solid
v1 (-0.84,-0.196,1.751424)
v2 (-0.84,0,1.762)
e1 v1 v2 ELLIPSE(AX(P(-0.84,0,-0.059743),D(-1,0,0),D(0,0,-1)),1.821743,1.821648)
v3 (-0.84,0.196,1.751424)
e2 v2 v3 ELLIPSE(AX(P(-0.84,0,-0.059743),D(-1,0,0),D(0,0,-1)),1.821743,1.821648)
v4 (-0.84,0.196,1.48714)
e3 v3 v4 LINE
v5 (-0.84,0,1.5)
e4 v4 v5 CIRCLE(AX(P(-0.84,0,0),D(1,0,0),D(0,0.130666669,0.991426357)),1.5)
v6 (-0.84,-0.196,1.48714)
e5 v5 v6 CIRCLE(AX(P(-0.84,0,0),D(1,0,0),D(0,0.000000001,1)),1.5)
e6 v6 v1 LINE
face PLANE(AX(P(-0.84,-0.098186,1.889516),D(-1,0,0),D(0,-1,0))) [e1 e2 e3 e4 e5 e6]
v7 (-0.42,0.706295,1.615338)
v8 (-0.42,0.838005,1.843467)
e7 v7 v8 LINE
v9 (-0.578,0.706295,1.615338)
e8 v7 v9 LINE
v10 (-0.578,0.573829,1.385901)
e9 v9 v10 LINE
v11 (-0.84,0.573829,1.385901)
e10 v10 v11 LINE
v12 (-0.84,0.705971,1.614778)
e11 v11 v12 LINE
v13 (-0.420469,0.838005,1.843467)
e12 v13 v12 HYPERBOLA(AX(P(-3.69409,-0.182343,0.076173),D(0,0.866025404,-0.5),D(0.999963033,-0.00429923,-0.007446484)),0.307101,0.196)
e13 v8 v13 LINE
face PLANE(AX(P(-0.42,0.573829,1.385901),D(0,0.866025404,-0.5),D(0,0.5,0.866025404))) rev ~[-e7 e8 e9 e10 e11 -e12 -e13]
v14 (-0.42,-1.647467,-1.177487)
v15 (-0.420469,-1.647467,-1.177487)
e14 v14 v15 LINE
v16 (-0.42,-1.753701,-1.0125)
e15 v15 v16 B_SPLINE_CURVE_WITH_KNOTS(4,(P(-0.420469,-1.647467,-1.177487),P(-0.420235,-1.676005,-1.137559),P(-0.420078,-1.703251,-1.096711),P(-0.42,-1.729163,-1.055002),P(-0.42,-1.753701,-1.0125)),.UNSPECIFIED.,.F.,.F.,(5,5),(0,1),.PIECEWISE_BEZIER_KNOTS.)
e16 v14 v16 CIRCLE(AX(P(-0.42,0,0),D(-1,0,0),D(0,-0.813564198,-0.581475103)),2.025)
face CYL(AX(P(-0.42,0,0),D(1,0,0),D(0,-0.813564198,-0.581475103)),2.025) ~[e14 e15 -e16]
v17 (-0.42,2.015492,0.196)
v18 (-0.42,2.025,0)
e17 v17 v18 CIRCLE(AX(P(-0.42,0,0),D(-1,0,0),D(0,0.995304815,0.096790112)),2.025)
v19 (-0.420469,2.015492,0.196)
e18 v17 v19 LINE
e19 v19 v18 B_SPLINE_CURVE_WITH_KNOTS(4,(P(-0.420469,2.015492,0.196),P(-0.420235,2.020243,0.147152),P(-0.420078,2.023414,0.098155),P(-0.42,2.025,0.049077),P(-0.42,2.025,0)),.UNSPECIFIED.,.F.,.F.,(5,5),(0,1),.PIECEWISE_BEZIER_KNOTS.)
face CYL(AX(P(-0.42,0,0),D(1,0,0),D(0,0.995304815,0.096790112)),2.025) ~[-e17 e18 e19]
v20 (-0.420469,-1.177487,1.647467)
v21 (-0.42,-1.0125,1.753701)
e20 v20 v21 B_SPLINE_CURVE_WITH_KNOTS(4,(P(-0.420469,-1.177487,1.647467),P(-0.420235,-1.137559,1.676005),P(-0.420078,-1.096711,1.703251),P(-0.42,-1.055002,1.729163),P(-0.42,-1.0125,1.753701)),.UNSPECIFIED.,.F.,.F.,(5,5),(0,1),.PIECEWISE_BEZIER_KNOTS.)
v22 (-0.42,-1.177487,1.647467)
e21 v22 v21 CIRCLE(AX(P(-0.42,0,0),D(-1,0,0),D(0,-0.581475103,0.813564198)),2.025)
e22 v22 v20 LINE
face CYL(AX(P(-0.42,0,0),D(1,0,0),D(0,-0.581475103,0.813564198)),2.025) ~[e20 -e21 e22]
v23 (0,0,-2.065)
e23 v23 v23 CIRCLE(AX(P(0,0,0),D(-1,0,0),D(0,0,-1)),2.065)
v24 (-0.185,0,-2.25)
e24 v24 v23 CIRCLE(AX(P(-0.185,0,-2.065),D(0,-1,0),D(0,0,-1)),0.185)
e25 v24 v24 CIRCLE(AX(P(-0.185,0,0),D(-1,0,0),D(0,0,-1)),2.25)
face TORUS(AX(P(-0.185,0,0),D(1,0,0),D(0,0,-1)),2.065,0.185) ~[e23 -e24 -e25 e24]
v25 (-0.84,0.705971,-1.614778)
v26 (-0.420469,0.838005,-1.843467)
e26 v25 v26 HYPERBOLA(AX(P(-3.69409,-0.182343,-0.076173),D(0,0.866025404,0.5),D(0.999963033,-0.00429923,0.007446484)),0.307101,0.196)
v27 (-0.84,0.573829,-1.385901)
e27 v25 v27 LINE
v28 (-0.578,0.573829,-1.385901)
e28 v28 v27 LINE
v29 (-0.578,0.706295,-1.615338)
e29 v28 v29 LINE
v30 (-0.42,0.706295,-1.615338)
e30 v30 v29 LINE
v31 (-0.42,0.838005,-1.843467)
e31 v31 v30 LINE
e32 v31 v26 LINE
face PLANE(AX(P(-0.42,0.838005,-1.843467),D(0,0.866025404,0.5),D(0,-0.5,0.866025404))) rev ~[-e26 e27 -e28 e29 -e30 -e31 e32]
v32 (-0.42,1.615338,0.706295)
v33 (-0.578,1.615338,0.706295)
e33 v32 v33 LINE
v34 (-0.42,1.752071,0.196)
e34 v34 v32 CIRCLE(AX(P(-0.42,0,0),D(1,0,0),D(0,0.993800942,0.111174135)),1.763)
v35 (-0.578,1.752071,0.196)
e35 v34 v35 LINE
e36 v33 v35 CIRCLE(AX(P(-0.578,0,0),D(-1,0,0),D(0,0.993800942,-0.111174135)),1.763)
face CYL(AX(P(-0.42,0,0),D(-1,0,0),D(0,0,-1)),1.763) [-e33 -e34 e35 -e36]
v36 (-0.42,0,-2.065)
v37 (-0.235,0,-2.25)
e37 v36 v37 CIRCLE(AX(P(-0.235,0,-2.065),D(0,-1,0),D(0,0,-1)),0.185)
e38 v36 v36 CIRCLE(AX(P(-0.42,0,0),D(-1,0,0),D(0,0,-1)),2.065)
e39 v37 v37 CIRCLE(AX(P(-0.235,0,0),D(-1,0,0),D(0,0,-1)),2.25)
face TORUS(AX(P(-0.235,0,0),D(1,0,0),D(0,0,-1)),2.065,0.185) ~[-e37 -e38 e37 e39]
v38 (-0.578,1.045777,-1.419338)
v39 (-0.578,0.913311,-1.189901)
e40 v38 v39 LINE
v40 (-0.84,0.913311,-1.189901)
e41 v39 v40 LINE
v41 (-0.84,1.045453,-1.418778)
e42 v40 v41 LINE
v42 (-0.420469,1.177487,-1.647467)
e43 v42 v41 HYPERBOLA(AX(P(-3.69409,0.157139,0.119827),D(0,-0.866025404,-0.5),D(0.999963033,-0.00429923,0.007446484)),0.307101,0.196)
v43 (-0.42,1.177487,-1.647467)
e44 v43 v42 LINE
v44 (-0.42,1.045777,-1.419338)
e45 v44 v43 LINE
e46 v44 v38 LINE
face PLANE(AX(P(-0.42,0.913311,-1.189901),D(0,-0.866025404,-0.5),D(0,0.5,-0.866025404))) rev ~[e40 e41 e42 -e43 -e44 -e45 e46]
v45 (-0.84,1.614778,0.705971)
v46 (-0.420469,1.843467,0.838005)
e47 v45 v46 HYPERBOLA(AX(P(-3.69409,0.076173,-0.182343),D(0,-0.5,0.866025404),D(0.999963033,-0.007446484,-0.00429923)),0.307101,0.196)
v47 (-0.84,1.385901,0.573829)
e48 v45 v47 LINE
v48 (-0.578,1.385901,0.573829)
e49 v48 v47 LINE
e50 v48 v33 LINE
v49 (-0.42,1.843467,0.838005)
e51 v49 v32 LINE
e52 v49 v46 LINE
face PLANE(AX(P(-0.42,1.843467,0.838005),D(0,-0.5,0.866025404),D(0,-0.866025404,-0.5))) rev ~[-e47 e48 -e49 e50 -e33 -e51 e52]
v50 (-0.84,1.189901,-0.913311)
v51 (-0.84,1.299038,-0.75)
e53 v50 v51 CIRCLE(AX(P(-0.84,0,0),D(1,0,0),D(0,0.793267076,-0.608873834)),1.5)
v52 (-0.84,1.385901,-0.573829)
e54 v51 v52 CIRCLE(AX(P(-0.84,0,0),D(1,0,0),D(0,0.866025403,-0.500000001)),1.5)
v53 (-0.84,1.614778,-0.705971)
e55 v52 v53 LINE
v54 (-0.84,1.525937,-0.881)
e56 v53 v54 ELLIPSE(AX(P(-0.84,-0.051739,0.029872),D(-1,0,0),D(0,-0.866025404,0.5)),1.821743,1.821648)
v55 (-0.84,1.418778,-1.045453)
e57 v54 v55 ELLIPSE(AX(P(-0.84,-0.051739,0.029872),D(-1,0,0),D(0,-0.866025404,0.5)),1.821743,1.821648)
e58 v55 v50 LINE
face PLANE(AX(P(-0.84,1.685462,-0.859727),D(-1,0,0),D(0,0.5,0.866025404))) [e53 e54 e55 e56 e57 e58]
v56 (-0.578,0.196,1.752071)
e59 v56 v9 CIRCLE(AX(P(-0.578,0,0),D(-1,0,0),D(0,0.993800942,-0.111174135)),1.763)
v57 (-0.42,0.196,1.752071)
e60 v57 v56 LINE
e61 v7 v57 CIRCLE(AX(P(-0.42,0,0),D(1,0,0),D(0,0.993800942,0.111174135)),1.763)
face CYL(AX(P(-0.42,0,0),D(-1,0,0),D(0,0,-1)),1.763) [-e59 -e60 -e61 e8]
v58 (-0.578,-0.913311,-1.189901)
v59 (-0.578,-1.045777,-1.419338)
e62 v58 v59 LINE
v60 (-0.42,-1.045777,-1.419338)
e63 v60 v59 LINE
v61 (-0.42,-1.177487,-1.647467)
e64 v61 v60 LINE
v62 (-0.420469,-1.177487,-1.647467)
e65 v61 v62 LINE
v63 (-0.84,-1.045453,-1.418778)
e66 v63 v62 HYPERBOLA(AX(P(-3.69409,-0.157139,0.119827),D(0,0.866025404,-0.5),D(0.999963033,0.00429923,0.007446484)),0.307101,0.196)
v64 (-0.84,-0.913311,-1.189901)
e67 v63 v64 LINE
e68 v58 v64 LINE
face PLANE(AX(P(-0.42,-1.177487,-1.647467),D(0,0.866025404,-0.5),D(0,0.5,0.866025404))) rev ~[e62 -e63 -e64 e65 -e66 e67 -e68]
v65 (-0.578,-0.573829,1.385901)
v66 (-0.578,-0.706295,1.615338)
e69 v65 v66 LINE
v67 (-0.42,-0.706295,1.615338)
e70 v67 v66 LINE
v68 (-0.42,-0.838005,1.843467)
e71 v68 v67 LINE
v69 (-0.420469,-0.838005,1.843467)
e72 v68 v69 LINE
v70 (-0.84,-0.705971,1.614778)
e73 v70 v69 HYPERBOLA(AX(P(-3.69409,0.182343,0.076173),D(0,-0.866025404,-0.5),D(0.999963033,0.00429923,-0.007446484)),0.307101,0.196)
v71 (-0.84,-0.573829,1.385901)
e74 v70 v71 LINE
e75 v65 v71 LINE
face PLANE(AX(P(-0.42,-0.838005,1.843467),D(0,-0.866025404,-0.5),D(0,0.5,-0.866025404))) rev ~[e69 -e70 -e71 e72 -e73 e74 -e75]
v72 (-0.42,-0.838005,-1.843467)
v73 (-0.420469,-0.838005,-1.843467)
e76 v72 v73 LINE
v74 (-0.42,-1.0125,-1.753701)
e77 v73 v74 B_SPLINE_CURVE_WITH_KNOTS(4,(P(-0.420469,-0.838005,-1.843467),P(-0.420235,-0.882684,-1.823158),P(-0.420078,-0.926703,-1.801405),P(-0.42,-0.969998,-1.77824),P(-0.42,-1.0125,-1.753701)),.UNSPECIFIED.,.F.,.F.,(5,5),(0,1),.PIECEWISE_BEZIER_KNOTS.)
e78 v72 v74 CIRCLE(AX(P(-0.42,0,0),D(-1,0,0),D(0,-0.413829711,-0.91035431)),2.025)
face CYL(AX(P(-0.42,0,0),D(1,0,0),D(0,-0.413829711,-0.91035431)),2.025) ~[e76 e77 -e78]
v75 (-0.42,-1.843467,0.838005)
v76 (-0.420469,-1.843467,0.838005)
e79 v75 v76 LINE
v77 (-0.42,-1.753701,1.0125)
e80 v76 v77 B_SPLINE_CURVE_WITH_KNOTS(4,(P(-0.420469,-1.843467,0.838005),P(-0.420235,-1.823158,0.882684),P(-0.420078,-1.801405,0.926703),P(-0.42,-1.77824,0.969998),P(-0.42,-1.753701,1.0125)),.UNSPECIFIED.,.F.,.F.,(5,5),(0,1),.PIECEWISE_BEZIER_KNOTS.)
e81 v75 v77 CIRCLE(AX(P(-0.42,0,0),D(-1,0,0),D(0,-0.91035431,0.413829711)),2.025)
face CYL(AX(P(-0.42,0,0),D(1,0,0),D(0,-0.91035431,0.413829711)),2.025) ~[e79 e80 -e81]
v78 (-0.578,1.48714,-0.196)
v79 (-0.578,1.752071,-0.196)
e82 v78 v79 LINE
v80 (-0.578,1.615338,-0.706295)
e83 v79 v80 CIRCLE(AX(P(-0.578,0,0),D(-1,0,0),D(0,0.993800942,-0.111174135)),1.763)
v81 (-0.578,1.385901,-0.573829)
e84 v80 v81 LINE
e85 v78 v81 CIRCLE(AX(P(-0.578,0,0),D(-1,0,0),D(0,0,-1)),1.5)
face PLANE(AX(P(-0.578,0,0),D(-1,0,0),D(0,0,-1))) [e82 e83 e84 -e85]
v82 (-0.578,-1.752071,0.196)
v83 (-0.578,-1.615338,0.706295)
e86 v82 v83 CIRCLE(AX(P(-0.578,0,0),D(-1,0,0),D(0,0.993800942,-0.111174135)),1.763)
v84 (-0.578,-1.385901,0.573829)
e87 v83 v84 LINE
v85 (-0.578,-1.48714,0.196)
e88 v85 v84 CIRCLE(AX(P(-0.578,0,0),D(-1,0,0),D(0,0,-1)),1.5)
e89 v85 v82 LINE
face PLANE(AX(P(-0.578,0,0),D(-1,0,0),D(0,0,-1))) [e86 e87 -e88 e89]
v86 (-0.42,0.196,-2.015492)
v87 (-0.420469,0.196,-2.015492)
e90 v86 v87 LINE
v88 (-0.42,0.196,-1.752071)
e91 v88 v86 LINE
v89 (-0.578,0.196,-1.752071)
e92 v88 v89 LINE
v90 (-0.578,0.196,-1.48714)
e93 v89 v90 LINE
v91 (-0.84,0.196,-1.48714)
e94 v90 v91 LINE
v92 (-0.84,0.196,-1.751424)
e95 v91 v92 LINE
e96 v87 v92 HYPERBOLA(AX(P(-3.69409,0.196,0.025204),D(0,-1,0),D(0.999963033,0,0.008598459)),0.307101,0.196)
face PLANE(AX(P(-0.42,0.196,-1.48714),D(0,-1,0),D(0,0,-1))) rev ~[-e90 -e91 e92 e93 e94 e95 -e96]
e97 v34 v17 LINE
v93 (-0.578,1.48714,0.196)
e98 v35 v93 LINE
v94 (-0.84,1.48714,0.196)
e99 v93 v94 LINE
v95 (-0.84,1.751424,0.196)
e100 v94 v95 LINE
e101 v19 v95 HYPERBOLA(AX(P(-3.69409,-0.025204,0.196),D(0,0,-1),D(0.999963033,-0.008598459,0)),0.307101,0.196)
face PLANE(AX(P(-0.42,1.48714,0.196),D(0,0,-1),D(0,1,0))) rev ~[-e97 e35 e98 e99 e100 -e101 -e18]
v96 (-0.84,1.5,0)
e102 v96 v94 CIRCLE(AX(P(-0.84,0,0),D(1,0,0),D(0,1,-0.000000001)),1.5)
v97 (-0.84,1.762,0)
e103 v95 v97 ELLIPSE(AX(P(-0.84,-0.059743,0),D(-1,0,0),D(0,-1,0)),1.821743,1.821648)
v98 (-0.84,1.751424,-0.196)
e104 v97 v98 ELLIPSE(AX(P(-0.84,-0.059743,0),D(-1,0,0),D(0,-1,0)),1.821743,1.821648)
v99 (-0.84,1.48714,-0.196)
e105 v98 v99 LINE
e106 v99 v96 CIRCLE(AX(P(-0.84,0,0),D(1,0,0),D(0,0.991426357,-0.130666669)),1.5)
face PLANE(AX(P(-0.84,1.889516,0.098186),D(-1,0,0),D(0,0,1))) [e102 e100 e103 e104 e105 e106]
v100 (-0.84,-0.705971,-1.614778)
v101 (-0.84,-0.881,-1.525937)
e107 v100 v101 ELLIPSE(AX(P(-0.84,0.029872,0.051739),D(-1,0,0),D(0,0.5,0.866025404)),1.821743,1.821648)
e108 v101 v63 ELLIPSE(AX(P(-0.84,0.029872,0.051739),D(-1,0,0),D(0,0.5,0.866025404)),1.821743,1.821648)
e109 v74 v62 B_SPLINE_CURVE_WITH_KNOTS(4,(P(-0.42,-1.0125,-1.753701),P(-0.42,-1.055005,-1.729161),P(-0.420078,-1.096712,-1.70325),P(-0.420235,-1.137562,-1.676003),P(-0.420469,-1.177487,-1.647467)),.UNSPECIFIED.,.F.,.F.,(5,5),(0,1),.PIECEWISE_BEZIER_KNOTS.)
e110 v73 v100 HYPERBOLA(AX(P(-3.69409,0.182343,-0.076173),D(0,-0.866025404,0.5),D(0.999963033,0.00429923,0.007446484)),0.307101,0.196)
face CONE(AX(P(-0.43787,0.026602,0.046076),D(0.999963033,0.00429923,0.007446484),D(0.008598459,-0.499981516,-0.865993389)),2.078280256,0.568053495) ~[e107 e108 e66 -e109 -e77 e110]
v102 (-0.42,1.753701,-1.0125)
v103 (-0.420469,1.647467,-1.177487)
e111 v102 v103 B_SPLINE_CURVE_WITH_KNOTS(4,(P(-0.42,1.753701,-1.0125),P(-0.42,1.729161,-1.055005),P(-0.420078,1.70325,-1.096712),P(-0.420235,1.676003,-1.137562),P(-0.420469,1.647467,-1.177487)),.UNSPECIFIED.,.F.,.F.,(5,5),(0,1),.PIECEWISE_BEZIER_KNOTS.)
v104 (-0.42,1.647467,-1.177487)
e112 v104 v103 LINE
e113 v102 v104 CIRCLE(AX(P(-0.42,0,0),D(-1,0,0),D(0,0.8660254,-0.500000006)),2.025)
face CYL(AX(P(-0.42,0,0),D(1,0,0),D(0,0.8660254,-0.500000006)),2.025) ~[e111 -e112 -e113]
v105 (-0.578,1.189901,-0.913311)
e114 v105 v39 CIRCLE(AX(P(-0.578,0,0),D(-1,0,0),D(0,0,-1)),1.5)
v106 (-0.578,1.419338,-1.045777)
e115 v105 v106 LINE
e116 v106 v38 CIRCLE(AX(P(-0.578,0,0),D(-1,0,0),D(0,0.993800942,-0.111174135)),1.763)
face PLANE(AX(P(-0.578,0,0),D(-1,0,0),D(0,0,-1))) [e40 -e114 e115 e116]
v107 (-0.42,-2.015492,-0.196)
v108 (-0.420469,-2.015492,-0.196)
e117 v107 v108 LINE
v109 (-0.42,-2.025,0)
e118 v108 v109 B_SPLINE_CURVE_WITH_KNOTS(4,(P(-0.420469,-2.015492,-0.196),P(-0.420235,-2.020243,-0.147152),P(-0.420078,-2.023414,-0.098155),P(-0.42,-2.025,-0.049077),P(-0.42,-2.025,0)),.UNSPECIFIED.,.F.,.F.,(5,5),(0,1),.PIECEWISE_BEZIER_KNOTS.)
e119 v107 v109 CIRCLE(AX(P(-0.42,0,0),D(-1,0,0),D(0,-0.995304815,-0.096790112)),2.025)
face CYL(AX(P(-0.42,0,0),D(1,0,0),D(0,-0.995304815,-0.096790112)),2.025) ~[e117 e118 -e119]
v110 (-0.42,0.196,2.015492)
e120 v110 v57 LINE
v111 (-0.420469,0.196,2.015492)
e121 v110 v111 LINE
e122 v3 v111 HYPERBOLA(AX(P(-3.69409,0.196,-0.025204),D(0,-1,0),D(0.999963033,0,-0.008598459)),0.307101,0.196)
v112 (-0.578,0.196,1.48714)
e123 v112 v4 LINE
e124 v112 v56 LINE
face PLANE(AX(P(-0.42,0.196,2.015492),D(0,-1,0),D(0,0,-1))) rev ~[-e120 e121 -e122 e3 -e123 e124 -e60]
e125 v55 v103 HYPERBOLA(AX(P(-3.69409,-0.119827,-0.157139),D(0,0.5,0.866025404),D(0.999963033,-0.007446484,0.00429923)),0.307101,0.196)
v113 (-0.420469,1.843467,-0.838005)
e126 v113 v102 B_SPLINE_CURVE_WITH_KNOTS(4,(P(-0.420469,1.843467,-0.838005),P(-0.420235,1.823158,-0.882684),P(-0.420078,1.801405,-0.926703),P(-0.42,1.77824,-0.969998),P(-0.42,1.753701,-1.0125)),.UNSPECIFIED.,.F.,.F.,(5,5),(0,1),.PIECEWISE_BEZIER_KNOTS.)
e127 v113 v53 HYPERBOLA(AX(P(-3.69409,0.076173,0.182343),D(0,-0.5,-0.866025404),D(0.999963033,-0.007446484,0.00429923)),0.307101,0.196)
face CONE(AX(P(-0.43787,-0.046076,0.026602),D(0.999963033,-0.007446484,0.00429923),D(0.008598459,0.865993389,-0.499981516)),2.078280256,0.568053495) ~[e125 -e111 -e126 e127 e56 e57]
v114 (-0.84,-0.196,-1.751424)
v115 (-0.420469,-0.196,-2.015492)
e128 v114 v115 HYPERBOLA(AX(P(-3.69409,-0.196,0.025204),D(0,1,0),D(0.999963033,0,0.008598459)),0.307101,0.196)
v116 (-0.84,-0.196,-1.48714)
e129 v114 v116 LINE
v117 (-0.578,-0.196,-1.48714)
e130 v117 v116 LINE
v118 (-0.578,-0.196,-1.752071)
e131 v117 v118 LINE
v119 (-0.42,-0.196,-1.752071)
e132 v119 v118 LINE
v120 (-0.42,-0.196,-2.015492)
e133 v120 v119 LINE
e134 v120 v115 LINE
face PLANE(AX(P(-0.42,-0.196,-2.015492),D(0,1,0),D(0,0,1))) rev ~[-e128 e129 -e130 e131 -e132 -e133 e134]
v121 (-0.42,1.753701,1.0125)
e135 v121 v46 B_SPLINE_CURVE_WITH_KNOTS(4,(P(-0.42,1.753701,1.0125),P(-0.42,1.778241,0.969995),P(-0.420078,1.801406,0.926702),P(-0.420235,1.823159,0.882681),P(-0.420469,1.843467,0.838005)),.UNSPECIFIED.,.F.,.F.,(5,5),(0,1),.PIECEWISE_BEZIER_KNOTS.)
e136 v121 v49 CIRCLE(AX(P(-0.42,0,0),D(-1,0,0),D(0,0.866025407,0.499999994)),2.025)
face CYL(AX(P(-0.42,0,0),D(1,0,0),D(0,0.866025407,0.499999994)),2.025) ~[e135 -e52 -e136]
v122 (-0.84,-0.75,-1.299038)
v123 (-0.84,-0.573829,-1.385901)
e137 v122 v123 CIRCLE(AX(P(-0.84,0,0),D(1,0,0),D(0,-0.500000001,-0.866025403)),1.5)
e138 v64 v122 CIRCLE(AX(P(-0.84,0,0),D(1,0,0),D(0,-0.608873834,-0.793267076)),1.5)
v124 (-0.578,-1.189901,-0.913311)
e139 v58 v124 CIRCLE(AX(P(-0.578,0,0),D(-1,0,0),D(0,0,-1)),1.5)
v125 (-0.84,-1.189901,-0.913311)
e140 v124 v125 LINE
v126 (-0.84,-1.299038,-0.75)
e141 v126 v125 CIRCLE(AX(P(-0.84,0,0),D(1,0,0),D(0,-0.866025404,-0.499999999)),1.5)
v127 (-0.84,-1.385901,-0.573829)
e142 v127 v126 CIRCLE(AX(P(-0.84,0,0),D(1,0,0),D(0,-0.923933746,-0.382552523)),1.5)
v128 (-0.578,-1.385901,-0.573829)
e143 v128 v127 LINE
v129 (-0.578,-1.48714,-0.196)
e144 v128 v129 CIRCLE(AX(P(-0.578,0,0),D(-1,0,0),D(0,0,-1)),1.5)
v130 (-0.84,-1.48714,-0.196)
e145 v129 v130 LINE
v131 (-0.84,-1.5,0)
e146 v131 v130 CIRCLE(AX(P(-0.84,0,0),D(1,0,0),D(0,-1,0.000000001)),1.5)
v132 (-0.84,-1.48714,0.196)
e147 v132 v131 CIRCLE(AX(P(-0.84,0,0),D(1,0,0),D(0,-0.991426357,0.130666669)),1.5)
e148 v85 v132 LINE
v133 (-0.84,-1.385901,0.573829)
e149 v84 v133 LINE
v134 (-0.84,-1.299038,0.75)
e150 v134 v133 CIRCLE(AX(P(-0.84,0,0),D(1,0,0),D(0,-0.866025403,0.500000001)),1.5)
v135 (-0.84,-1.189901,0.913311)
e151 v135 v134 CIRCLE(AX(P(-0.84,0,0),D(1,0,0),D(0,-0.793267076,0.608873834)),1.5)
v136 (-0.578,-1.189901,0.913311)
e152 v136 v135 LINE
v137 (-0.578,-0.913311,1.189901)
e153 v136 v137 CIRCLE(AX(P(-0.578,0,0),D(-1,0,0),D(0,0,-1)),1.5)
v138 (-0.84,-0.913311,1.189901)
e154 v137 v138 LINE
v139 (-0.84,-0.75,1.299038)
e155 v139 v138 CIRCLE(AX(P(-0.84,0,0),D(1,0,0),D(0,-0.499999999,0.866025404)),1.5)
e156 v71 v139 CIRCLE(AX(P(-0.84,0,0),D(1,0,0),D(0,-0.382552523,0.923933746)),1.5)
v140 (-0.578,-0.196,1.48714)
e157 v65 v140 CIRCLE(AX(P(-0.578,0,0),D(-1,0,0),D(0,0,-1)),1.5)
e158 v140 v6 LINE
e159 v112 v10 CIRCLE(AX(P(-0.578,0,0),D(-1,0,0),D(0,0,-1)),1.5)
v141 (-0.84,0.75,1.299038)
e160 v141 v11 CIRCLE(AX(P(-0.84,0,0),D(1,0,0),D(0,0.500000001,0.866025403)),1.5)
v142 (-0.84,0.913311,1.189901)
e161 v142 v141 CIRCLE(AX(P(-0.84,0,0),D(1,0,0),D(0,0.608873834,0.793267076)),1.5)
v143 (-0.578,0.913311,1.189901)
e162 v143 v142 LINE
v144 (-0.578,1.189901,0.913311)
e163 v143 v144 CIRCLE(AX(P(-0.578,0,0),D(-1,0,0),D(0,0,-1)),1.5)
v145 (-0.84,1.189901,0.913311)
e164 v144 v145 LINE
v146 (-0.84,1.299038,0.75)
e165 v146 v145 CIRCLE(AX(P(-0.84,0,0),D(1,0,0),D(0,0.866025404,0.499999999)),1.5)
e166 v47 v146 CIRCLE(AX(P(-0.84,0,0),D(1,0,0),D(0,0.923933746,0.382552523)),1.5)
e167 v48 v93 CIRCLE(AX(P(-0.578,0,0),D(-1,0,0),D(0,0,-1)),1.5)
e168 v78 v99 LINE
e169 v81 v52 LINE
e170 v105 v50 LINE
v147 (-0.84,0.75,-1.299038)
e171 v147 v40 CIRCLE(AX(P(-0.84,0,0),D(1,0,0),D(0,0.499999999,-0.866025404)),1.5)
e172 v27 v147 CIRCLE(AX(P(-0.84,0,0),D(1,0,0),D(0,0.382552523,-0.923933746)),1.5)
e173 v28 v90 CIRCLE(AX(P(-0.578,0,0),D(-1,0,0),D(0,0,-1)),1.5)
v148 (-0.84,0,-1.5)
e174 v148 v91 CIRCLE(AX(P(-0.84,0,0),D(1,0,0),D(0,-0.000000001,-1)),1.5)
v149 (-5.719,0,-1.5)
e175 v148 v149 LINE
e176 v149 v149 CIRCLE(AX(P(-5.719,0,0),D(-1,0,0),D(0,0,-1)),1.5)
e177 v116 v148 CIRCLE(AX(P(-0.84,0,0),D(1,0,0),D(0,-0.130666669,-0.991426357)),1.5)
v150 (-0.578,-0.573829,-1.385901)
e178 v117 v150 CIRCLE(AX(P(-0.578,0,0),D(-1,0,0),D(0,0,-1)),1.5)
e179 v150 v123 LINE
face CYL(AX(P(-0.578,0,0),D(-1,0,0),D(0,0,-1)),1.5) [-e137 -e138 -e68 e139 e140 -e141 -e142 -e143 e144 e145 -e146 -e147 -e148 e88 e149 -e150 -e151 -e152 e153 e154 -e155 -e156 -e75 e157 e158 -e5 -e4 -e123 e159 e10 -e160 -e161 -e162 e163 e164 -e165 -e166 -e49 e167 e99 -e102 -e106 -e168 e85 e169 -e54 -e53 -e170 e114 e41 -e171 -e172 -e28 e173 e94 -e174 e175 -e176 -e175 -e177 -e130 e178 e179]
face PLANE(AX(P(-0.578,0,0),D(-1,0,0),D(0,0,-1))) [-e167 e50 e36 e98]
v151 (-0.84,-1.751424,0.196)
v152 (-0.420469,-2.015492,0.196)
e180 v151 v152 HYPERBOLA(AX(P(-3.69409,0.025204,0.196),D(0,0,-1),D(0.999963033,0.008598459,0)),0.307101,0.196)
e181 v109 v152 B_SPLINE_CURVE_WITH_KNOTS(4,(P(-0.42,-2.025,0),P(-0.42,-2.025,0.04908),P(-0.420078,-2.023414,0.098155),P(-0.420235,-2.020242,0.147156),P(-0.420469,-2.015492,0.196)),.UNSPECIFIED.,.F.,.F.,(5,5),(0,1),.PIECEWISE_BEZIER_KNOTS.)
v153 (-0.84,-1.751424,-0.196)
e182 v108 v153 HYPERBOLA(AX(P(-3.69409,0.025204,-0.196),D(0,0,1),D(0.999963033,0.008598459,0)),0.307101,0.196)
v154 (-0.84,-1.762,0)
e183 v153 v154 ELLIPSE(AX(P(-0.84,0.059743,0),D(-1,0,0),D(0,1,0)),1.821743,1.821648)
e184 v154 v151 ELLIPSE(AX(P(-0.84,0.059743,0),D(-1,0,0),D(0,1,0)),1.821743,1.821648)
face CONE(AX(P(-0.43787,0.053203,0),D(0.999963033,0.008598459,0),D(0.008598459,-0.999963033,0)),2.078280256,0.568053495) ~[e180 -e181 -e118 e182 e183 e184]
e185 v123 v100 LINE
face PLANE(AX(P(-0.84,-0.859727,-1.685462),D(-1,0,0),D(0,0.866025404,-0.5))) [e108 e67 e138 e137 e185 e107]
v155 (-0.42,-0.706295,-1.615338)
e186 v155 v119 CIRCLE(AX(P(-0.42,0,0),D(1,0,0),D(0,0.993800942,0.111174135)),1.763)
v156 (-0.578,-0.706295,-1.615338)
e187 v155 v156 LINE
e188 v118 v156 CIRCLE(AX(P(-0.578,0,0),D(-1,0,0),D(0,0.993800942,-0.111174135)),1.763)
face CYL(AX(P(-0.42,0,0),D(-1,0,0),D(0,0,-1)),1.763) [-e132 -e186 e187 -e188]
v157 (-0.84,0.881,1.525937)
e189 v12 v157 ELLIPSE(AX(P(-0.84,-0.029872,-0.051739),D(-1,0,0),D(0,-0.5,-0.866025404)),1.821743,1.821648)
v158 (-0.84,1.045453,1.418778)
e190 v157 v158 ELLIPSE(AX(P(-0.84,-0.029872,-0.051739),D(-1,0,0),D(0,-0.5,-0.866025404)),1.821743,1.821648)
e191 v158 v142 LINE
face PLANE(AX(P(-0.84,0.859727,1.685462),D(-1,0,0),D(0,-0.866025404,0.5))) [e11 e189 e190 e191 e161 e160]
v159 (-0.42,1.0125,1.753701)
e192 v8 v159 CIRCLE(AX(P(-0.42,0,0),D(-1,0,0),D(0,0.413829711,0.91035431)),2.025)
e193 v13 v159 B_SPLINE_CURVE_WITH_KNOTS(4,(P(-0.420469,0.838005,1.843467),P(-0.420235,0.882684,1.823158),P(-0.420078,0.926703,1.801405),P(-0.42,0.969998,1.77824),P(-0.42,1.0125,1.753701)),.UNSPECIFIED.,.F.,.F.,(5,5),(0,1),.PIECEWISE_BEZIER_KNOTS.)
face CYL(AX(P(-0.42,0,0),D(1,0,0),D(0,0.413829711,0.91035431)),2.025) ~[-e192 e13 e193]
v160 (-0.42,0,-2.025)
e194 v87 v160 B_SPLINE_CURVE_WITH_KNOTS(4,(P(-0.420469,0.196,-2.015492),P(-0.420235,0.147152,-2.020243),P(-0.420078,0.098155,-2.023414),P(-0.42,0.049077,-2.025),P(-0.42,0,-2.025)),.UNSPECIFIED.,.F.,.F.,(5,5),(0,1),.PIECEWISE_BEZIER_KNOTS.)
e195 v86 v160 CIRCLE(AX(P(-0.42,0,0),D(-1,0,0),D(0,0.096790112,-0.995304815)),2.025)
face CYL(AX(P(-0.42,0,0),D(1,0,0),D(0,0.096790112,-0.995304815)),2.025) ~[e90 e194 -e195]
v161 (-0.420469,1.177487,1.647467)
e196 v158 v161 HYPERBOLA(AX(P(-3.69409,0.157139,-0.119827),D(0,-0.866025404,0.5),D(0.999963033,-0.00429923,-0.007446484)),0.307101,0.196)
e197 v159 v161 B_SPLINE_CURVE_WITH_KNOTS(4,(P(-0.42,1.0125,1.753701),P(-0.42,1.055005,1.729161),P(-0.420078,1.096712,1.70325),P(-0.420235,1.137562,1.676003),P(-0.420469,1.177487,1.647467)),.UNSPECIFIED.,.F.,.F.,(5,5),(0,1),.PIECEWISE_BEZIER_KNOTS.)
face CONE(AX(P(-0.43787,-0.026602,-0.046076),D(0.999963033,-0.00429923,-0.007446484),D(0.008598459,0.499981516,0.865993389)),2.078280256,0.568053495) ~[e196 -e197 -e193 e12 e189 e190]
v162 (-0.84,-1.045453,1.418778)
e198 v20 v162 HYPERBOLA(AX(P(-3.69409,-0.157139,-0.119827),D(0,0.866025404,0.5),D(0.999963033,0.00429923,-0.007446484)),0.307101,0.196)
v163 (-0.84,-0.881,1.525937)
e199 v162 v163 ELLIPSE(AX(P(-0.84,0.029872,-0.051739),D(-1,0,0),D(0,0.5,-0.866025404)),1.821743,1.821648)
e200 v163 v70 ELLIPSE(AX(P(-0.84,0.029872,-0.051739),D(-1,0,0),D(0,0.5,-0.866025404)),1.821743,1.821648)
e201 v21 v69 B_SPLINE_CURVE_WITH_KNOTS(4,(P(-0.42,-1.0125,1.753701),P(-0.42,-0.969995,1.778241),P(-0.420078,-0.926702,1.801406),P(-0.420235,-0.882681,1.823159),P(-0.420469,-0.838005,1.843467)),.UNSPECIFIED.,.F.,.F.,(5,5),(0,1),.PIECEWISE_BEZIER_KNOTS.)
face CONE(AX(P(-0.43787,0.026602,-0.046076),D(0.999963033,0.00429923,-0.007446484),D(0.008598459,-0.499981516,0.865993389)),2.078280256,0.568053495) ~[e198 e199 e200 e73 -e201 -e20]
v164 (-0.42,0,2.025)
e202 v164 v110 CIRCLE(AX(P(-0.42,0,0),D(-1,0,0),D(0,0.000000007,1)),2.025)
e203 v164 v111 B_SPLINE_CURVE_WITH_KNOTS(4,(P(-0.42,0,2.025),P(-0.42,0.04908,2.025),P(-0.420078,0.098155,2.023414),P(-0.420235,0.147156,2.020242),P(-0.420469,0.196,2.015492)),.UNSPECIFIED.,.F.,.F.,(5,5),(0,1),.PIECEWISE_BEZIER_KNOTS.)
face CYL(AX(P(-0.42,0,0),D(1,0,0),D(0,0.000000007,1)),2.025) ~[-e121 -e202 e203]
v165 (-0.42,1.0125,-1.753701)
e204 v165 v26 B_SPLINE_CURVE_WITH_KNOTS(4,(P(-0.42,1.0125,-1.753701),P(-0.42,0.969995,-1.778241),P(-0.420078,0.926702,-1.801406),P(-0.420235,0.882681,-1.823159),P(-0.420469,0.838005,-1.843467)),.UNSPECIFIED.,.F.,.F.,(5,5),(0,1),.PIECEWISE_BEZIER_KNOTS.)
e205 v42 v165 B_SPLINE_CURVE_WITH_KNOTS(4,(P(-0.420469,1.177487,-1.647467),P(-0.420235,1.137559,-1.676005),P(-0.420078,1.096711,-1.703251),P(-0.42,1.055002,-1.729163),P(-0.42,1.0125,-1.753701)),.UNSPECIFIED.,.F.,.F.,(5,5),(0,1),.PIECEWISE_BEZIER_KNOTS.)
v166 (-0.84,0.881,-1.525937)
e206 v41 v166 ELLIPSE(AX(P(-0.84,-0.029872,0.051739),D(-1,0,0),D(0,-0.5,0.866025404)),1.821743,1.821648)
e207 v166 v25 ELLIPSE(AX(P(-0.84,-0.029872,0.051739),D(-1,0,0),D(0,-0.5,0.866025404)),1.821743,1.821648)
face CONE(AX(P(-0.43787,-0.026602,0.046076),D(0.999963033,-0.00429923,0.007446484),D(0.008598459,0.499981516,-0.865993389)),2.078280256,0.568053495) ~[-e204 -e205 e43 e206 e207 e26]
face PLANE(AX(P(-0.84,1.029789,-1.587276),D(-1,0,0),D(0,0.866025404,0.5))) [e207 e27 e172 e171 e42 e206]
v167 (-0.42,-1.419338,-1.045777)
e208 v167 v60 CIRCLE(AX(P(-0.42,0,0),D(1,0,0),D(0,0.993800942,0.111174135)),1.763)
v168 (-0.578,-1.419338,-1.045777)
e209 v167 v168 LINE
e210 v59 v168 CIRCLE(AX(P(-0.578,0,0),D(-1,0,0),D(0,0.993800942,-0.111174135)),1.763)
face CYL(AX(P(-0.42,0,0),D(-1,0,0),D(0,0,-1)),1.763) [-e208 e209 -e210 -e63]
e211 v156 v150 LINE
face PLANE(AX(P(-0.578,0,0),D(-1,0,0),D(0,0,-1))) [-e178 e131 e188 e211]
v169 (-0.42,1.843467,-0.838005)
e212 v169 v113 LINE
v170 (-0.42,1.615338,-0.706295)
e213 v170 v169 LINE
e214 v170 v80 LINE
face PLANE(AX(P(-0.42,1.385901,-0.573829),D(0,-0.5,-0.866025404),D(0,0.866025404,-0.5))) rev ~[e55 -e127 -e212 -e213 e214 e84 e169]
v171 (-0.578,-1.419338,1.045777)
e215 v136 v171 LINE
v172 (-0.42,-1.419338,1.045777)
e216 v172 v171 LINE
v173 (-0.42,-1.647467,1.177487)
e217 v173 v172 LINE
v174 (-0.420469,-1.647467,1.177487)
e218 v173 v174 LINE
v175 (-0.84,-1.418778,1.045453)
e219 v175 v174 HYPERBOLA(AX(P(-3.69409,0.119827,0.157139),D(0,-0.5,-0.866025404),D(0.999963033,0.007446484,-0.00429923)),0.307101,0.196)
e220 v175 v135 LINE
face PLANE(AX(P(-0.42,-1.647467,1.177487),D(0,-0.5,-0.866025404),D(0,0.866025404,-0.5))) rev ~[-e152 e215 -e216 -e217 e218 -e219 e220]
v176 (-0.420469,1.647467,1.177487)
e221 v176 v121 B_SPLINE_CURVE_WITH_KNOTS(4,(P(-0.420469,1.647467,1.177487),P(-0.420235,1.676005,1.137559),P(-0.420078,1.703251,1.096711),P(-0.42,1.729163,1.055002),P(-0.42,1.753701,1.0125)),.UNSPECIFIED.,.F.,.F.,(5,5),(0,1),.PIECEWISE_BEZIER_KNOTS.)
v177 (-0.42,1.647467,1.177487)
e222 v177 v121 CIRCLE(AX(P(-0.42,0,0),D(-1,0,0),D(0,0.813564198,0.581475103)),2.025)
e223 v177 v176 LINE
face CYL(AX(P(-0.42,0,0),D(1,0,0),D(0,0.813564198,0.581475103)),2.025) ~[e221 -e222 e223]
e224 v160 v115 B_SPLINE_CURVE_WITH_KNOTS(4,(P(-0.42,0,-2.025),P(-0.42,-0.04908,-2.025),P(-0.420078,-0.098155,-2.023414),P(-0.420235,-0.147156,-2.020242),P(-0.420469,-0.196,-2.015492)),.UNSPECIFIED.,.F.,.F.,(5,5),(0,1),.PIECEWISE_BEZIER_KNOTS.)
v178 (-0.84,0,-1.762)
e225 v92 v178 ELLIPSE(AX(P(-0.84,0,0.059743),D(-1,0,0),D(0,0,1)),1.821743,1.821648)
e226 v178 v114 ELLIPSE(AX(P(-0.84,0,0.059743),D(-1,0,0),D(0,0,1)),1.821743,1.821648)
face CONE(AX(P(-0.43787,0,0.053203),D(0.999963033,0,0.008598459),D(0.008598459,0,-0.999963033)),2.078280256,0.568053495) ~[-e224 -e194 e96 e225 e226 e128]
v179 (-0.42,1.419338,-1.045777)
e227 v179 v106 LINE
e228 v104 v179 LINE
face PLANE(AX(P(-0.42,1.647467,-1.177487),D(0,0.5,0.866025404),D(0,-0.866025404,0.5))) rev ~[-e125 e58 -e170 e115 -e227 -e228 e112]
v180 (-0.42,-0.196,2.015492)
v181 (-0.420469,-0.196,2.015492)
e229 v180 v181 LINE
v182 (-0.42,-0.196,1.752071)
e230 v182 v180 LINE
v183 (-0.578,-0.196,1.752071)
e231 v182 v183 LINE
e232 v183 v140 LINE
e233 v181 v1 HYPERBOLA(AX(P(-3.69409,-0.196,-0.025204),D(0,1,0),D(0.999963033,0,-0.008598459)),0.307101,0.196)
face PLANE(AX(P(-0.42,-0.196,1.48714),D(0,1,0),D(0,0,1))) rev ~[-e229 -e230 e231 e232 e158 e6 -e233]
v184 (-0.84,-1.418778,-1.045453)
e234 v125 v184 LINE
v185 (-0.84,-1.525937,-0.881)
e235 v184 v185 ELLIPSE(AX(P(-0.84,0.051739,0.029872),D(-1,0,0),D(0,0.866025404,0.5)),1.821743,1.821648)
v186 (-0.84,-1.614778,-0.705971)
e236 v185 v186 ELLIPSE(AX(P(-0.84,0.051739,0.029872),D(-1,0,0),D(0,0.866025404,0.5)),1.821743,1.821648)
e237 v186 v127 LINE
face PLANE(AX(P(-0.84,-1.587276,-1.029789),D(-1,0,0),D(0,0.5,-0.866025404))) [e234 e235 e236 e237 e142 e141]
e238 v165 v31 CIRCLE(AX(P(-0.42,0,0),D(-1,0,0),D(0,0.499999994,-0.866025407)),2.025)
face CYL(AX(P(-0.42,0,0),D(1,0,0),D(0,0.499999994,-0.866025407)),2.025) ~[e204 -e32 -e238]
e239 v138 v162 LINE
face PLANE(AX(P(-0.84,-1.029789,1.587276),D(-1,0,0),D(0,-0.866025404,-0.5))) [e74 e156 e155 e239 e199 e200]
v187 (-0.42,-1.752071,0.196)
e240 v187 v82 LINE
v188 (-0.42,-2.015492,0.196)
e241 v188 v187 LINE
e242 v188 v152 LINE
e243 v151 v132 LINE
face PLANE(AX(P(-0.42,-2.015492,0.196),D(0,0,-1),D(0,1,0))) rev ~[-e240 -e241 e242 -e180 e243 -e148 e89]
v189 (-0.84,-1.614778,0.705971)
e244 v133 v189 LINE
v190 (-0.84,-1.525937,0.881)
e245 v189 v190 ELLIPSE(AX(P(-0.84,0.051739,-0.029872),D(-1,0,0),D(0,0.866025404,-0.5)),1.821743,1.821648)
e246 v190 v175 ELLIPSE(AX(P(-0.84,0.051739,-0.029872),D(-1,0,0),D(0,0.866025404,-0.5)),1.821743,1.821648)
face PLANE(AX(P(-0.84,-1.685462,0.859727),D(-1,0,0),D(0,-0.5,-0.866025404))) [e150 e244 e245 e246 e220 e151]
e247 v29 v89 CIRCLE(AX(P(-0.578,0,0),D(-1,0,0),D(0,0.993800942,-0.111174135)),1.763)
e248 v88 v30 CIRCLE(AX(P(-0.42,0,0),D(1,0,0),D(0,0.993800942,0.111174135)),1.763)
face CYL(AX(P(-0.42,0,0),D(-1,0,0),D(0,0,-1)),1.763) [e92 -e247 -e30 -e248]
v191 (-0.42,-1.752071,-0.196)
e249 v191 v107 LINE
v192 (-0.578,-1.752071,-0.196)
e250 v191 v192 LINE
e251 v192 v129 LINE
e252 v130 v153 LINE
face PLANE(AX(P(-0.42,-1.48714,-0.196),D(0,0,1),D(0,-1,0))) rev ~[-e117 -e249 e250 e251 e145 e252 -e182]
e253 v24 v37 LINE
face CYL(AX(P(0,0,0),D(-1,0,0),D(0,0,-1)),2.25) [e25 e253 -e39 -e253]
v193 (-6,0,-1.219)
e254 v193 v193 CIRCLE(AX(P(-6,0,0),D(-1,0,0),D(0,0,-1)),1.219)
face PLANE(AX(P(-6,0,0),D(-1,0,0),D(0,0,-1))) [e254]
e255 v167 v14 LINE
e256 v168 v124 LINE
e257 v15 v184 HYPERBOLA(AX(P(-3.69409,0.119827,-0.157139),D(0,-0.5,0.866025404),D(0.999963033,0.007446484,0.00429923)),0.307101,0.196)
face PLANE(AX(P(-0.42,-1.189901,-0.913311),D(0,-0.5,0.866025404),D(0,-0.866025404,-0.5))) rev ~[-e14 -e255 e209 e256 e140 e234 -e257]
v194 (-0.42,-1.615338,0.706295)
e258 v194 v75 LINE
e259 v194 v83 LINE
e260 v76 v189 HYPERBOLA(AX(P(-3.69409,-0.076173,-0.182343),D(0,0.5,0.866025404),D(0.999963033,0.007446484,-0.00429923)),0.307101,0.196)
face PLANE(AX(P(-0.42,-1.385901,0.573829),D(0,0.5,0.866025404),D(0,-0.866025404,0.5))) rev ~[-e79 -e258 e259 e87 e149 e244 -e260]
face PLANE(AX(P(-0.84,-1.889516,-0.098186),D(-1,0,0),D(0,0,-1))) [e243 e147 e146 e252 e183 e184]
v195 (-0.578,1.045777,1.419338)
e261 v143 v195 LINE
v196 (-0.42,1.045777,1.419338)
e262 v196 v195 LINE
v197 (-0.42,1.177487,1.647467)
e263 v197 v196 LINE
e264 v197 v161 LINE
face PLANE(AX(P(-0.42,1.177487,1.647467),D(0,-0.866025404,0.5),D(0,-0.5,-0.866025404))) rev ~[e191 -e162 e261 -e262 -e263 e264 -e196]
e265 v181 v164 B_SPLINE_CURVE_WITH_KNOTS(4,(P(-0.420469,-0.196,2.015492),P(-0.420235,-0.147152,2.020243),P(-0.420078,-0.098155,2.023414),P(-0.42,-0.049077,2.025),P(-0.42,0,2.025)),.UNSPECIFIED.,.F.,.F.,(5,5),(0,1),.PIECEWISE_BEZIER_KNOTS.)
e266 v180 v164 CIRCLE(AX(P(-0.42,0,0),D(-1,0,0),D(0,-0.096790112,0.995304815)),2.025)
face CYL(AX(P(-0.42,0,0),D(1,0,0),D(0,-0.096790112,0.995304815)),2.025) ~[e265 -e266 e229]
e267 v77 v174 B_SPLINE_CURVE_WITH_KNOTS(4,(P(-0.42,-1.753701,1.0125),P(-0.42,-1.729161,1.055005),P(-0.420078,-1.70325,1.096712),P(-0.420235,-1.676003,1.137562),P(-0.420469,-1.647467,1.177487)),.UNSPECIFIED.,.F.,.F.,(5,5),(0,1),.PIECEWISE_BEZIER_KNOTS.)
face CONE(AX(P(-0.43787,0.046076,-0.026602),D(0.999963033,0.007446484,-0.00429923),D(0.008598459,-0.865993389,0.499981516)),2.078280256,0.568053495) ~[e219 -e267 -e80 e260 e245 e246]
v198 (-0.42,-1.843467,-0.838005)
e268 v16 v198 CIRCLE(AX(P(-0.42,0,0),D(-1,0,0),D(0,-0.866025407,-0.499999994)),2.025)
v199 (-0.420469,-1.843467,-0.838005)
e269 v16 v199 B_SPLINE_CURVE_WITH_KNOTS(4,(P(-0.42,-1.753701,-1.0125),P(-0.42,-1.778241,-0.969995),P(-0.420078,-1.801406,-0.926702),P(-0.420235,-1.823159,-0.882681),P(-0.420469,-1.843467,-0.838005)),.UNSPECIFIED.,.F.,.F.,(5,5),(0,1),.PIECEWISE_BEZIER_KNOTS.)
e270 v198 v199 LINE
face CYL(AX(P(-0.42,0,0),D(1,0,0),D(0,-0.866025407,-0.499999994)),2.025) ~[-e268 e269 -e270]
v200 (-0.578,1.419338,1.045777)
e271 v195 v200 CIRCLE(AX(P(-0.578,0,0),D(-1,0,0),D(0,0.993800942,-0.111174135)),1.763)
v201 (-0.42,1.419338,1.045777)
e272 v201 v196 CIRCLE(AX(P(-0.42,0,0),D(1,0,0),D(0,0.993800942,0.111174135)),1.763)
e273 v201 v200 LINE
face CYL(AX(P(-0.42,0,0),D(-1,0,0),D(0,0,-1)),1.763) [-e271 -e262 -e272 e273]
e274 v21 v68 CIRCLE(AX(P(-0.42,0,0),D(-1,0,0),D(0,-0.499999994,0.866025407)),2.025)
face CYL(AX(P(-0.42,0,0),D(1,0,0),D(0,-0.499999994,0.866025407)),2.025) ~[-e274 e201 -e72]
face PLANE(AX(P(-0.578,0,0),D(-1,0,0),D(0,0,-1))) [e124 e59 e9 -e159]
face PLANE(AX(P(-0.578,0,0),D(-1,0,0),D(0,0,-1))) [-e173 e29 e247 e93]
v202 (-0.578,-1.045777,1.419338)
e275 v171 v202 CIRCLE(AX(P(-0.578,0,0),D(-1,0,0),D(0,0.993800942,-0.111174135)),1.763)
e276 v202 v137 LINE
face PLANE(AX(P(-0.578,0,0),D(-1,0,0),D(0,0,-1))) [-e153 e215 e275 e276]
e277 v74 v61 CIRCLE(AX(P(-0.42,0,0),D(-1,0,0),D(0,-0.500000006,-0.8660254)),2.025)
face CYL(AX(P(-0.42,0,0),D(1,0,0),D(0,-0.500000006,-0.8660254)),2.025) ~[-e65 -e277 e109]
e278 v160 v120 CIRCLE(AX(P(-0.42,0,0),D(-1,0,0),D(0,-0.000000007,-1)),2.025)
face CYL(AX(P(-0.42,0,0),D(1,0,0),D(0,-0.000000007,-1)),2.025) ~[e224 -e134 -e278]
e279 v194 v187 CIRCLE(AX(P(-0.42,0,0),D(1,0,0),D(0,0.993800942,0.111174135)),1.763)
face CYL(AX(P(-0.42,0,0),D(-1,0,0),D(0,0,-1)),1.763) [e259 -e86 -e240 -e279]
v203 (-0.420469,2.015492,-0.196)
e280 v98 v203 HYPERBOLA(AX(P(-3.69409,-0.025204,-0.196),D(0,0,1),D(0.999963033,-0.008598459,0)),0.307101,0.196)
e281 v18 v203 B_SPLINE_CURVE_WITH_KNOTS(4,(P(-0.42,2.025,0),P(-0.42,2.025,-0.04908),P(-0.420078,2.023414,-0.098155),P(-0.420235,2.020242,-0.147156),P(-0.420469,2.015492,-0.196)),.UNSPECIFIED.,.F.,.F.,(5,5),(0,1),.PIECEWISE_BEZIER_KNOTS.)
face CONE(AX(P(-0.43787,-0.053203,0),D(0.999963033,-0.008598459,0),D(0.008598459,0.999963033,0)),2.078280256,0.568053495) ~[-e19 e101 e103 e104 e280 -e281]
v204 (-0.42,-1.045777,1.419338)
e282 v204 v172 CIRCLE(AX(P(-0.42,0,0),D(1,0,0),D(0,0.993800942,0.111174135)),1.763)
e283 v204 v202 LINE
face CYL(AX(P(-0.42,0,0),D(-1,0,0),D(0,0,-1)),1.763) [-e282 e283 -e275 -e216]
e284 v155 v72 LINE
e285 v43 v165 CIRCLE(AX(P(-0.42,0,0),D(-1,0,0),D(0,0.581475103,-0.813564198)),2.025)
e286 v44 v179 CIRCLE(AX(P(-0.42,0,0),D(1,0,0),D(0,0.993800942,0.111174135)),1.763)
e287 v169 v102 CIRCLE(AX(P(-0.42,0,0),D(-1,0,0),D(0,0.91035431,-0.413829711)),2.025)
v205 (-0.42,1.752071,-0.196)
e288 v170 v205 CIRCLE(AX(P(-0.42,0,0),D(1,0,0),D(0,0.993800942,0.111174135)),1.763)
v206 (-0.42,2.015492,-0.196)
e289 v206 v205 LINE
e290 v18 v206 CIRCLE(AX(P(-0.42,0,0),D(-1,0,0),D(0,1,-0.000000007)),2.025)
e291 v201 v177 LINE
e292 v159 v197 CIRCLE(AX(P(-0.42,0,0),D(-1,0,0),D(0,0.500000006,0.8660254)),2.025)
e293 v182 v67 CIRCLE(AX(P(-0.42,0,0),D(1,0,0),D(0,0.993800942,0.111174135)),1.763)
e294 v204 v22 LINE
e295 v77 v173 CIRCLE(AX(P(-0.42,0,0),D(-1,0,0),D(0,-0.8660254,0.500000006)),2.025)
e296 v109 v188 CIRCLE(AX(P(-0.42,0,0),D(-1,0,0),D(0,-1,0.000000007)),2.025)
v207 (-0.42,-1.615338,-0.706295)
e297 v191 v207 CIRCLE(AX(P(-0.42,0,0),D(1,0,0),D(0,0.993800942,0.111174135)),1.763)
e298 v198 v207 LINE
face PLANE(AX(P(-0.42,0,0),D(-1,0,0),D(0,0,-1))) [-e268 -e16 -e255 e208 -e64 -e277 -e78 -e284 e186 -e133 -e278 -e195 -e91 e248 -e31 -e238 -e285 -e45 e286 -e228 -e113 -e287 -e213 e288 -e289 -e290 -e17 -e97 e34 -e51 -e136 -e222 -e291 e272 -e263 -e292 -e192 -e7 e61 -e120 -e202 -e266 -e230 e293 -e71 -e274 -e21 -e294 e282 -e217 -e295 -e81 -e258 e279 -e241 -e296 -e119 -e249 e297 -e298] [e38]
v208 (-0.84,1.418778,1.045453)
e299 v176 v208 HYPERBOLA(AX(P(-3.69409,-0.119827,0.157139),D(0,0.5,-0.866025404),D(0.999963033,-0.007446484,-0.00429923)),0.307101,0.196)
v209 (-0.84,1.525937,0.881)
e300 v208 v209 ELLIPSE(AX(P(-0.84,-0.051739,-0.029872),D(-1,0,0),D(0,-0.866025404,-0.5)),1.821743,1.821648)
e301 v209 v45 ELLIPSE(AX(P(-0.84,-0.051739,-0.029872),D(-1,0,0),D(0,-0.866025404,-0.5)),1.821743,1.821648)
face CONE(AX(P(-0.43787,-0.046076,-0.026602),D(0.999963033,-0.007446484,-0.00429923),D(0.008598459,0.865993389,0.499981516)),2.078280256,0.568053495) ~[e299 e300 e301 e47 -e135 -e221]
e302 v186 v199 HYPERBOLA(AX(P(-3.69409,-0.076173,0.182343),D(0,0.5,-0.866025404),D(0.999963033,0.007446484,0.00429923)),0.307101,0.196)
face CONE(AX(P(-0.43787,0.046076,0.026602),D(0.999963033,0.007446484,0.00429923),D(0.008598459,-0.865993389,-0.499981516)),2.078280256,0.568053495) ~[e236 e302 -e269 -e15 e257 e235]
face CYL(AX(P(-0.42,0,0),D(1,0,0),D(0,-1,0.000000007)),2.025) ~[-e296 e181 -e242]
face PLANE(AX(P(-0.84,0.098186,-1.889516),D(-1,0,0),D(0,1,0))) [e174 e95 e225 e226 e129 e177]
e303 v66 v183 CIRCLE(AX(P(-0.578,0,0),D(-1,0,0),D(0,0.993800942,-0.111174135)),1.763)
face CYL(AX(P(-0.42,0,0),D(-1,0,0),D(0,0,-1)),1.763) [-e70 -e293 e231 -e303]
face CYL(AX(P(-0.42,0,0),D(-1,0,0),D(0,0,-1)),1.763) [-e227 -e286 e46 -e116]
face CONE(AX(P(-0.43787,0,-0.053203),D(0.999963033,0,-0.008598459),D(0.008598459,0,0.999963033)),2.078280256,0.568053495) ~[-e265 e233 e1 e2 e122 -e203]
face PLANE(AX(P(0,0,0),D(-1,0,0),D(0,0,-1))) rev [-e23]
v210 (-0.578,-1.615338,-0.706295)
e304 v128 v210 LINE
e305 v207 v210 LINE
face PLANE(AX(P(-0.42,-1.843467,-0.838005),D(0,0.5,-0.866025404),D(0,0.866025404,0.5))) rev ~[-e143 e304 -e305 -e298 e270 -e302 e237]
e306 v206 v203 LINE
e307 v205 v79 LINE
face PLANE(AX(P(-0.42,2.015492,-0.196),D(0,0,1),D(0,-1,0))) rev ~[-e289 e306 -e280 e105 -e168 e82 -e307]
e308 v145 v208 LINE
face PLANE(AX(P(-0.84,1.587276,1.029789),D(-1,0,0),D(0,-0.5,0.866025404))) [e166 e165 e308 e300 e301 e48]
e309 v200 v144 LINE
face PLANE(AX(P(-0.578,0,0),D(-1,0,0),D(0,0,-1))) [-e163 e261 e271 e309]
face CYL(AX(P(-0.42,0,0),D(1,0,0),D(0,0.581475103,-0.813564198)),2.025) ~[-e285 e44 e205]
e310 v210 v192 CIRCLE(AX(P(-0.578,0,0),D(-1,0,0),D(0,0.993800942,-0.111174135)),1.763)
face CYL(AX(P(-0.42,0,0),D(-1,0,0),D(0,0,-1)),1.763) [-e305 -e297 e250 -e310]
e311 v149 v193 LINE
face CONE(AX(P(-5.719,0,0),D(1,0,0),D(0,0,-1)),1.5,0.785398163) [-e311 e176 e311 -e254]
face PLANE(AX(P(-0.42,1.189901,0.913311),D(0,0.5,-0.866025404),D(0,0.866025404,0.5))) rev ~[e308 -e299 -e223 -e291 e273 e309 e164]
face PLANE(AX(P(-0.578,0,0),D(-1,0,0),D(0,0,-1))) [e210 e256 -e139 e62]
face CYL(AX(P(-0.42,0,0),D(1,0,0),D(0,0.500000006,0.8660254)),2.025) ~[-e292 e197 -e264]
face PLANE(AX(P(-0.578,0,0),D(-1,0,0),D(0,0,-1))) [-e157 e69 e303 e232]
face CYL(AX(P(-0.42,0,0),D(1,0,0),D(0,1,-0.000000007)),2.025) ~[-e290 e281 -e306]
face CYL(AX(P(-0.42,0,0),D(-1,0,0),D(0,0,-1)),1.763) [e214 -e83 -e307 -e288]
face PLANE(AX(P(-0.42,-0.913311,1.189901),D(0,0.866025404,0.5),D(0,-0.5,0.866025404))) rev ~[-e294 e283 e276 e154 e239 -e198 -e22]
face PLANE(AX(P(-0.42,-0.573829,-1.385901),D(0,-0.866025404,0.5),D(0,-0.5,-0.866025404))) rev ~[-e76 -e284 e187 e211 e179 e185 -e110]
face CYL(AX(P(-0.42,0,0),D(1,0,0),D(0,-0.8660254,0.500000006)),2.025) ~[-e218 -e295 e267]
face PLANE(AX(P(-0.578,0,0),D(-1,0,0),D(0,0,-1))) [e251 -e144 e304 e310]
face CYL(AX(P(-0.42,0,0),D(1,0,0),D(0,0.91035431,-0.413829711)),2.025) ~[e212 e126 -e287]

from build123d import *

# Parameters (mm, degrees)
CHAMFER1_SIZE       = 0.281
FILLET1_R           = 0.185
BOSS_EXTRUDE1_DEPTH = 0.42
CIRPATTERN1_COUNT   = 12


with BuildPart() as part:
    # Sketch1 → Revolve1 (revolve)
    with BuildSketch(Plane.XY, mode=Mode.PRIVATE) as revolve1_sk:
        Polygon((0, 0), (0, 2.25), (-0.42, 2.25), (-0.42, 1.763), (-0.578, 1.763), (-0.578, 1.5), (-6, 1.5), (-6, 0), align=None)
    revolve(revolve1_sk.sketch.rotate(Axis((99.339643322, 0, 0), (-1, 0, 0)), 90), axis=Axis((99.339643322, 0, 0), (-1, 0, 0)))

    # Chamfer1
    chamfer1_edges = [part.edges().sort_by_distance(p)[0] for p in [
        (-6, 0, 1.5),
    ]]
    chamfer(chamfer1_edges, length=CHAMFER1_SIZE)

    # Fillet1
    fillet1_edges = [part.edges().sort_by_distance(p)[0] for p in [
        (-0.42, 0, 2.25),
        (0, 0, 2.25),
    ]]
    fillet(fillet1_edges, radius=FILLET1_R)

    # Sketch2 → Boss-Extrude1 (add)
    with BuildSketch(Plane.ZY.offset(0.42)):
        with BuildLine():
            Line((0.196, 1.75207106), (0.196, 2.015492248))
            ThreePointArc((0.196, 2.015492248), (0.098115235, 2.022621665), (0, 2.025))
            Line((0, 2.025), (0, 1.763))
            ThreePointArc((0, 1.763), (0.098152231, 1.760265645), (0.196, 1.75207106))
        make_face()
        with BuildLine():
            Line((0.196, 1.487139536), (0.196, 1.75207106))
            ThreePointArc((0.196, 1.75207106), (0.098152231, 1.760265645), (0, 1.763))
            Line((0, 1.763), (0, 1.5))
            ThreePointArc((0, 1.5), (0.098210732, 1.496781431), (0.196, 1.487139536))
        make_face()
        with BuildLine():
            Line((0, 1.763), (0, 2.025))
            ThreePointArc((0, 2.025), (-0.098115235, 2.022621665), (-0.196, 2.015492248))
            Line((-0.196, 2.015492248), (-0.196, 1.75207106))
            ThreePointArc((-0.196, 1.75207106), (-0.098152231, 1.760265645), (0, 1.763))
        make_face()
        with BuildLine():
            Line((0, 1.5), (0, 1.763))
            ThreePointArc((0, 1.763), (-0.098152231, 1.760265645), (-0.196, 1.75207106))
            Line((-0.196, 1.75207106), (-0.196, 1.487139536))
            ThreePointArc((-0.196, 1.487139536), (-0.098210732, 1.496781431), (0, 1.5))
        make_face()
    boss_extrude1 = extrude(amount=BOSS_EXTRUDE1_DEPTH)

    # Sketch3 → Cut-Revolve1 (revolve, cut)
    with BuildSketch(Plane.XY):
        Polygon((-0.42, 2.025), (-0.84, 1.762), (-0.84, 2.025), align=None)
    cut_revolve1 = revolve(axis=Axis((-6.625194775, 0, 0), (0.9999630325652946, -0.008598459328248705, 0)), mode=Mode.SUBTRACT)

    # CirPattern1: Boss-Extrude1, Cut-Revolve1 ×12 about axis
    cirpattern1_axis = Axis((0, 0, 0), (1, 0, 0))
    add([boss_extrude1.rotate(cirpattern1_axis, i * 360 / CIRPATTERN1_COUNT) for i in range(1, CIRPATTERN1_COUNT)])
    add([cut_revolve1.rotate(cirpattern1_axis, i * 360 / CIRPATTERN1_COUNT) for i in range(1, CIRPATTERN1_COUNT)], mode=Mode.SUBTRACT)


solid = part.part
